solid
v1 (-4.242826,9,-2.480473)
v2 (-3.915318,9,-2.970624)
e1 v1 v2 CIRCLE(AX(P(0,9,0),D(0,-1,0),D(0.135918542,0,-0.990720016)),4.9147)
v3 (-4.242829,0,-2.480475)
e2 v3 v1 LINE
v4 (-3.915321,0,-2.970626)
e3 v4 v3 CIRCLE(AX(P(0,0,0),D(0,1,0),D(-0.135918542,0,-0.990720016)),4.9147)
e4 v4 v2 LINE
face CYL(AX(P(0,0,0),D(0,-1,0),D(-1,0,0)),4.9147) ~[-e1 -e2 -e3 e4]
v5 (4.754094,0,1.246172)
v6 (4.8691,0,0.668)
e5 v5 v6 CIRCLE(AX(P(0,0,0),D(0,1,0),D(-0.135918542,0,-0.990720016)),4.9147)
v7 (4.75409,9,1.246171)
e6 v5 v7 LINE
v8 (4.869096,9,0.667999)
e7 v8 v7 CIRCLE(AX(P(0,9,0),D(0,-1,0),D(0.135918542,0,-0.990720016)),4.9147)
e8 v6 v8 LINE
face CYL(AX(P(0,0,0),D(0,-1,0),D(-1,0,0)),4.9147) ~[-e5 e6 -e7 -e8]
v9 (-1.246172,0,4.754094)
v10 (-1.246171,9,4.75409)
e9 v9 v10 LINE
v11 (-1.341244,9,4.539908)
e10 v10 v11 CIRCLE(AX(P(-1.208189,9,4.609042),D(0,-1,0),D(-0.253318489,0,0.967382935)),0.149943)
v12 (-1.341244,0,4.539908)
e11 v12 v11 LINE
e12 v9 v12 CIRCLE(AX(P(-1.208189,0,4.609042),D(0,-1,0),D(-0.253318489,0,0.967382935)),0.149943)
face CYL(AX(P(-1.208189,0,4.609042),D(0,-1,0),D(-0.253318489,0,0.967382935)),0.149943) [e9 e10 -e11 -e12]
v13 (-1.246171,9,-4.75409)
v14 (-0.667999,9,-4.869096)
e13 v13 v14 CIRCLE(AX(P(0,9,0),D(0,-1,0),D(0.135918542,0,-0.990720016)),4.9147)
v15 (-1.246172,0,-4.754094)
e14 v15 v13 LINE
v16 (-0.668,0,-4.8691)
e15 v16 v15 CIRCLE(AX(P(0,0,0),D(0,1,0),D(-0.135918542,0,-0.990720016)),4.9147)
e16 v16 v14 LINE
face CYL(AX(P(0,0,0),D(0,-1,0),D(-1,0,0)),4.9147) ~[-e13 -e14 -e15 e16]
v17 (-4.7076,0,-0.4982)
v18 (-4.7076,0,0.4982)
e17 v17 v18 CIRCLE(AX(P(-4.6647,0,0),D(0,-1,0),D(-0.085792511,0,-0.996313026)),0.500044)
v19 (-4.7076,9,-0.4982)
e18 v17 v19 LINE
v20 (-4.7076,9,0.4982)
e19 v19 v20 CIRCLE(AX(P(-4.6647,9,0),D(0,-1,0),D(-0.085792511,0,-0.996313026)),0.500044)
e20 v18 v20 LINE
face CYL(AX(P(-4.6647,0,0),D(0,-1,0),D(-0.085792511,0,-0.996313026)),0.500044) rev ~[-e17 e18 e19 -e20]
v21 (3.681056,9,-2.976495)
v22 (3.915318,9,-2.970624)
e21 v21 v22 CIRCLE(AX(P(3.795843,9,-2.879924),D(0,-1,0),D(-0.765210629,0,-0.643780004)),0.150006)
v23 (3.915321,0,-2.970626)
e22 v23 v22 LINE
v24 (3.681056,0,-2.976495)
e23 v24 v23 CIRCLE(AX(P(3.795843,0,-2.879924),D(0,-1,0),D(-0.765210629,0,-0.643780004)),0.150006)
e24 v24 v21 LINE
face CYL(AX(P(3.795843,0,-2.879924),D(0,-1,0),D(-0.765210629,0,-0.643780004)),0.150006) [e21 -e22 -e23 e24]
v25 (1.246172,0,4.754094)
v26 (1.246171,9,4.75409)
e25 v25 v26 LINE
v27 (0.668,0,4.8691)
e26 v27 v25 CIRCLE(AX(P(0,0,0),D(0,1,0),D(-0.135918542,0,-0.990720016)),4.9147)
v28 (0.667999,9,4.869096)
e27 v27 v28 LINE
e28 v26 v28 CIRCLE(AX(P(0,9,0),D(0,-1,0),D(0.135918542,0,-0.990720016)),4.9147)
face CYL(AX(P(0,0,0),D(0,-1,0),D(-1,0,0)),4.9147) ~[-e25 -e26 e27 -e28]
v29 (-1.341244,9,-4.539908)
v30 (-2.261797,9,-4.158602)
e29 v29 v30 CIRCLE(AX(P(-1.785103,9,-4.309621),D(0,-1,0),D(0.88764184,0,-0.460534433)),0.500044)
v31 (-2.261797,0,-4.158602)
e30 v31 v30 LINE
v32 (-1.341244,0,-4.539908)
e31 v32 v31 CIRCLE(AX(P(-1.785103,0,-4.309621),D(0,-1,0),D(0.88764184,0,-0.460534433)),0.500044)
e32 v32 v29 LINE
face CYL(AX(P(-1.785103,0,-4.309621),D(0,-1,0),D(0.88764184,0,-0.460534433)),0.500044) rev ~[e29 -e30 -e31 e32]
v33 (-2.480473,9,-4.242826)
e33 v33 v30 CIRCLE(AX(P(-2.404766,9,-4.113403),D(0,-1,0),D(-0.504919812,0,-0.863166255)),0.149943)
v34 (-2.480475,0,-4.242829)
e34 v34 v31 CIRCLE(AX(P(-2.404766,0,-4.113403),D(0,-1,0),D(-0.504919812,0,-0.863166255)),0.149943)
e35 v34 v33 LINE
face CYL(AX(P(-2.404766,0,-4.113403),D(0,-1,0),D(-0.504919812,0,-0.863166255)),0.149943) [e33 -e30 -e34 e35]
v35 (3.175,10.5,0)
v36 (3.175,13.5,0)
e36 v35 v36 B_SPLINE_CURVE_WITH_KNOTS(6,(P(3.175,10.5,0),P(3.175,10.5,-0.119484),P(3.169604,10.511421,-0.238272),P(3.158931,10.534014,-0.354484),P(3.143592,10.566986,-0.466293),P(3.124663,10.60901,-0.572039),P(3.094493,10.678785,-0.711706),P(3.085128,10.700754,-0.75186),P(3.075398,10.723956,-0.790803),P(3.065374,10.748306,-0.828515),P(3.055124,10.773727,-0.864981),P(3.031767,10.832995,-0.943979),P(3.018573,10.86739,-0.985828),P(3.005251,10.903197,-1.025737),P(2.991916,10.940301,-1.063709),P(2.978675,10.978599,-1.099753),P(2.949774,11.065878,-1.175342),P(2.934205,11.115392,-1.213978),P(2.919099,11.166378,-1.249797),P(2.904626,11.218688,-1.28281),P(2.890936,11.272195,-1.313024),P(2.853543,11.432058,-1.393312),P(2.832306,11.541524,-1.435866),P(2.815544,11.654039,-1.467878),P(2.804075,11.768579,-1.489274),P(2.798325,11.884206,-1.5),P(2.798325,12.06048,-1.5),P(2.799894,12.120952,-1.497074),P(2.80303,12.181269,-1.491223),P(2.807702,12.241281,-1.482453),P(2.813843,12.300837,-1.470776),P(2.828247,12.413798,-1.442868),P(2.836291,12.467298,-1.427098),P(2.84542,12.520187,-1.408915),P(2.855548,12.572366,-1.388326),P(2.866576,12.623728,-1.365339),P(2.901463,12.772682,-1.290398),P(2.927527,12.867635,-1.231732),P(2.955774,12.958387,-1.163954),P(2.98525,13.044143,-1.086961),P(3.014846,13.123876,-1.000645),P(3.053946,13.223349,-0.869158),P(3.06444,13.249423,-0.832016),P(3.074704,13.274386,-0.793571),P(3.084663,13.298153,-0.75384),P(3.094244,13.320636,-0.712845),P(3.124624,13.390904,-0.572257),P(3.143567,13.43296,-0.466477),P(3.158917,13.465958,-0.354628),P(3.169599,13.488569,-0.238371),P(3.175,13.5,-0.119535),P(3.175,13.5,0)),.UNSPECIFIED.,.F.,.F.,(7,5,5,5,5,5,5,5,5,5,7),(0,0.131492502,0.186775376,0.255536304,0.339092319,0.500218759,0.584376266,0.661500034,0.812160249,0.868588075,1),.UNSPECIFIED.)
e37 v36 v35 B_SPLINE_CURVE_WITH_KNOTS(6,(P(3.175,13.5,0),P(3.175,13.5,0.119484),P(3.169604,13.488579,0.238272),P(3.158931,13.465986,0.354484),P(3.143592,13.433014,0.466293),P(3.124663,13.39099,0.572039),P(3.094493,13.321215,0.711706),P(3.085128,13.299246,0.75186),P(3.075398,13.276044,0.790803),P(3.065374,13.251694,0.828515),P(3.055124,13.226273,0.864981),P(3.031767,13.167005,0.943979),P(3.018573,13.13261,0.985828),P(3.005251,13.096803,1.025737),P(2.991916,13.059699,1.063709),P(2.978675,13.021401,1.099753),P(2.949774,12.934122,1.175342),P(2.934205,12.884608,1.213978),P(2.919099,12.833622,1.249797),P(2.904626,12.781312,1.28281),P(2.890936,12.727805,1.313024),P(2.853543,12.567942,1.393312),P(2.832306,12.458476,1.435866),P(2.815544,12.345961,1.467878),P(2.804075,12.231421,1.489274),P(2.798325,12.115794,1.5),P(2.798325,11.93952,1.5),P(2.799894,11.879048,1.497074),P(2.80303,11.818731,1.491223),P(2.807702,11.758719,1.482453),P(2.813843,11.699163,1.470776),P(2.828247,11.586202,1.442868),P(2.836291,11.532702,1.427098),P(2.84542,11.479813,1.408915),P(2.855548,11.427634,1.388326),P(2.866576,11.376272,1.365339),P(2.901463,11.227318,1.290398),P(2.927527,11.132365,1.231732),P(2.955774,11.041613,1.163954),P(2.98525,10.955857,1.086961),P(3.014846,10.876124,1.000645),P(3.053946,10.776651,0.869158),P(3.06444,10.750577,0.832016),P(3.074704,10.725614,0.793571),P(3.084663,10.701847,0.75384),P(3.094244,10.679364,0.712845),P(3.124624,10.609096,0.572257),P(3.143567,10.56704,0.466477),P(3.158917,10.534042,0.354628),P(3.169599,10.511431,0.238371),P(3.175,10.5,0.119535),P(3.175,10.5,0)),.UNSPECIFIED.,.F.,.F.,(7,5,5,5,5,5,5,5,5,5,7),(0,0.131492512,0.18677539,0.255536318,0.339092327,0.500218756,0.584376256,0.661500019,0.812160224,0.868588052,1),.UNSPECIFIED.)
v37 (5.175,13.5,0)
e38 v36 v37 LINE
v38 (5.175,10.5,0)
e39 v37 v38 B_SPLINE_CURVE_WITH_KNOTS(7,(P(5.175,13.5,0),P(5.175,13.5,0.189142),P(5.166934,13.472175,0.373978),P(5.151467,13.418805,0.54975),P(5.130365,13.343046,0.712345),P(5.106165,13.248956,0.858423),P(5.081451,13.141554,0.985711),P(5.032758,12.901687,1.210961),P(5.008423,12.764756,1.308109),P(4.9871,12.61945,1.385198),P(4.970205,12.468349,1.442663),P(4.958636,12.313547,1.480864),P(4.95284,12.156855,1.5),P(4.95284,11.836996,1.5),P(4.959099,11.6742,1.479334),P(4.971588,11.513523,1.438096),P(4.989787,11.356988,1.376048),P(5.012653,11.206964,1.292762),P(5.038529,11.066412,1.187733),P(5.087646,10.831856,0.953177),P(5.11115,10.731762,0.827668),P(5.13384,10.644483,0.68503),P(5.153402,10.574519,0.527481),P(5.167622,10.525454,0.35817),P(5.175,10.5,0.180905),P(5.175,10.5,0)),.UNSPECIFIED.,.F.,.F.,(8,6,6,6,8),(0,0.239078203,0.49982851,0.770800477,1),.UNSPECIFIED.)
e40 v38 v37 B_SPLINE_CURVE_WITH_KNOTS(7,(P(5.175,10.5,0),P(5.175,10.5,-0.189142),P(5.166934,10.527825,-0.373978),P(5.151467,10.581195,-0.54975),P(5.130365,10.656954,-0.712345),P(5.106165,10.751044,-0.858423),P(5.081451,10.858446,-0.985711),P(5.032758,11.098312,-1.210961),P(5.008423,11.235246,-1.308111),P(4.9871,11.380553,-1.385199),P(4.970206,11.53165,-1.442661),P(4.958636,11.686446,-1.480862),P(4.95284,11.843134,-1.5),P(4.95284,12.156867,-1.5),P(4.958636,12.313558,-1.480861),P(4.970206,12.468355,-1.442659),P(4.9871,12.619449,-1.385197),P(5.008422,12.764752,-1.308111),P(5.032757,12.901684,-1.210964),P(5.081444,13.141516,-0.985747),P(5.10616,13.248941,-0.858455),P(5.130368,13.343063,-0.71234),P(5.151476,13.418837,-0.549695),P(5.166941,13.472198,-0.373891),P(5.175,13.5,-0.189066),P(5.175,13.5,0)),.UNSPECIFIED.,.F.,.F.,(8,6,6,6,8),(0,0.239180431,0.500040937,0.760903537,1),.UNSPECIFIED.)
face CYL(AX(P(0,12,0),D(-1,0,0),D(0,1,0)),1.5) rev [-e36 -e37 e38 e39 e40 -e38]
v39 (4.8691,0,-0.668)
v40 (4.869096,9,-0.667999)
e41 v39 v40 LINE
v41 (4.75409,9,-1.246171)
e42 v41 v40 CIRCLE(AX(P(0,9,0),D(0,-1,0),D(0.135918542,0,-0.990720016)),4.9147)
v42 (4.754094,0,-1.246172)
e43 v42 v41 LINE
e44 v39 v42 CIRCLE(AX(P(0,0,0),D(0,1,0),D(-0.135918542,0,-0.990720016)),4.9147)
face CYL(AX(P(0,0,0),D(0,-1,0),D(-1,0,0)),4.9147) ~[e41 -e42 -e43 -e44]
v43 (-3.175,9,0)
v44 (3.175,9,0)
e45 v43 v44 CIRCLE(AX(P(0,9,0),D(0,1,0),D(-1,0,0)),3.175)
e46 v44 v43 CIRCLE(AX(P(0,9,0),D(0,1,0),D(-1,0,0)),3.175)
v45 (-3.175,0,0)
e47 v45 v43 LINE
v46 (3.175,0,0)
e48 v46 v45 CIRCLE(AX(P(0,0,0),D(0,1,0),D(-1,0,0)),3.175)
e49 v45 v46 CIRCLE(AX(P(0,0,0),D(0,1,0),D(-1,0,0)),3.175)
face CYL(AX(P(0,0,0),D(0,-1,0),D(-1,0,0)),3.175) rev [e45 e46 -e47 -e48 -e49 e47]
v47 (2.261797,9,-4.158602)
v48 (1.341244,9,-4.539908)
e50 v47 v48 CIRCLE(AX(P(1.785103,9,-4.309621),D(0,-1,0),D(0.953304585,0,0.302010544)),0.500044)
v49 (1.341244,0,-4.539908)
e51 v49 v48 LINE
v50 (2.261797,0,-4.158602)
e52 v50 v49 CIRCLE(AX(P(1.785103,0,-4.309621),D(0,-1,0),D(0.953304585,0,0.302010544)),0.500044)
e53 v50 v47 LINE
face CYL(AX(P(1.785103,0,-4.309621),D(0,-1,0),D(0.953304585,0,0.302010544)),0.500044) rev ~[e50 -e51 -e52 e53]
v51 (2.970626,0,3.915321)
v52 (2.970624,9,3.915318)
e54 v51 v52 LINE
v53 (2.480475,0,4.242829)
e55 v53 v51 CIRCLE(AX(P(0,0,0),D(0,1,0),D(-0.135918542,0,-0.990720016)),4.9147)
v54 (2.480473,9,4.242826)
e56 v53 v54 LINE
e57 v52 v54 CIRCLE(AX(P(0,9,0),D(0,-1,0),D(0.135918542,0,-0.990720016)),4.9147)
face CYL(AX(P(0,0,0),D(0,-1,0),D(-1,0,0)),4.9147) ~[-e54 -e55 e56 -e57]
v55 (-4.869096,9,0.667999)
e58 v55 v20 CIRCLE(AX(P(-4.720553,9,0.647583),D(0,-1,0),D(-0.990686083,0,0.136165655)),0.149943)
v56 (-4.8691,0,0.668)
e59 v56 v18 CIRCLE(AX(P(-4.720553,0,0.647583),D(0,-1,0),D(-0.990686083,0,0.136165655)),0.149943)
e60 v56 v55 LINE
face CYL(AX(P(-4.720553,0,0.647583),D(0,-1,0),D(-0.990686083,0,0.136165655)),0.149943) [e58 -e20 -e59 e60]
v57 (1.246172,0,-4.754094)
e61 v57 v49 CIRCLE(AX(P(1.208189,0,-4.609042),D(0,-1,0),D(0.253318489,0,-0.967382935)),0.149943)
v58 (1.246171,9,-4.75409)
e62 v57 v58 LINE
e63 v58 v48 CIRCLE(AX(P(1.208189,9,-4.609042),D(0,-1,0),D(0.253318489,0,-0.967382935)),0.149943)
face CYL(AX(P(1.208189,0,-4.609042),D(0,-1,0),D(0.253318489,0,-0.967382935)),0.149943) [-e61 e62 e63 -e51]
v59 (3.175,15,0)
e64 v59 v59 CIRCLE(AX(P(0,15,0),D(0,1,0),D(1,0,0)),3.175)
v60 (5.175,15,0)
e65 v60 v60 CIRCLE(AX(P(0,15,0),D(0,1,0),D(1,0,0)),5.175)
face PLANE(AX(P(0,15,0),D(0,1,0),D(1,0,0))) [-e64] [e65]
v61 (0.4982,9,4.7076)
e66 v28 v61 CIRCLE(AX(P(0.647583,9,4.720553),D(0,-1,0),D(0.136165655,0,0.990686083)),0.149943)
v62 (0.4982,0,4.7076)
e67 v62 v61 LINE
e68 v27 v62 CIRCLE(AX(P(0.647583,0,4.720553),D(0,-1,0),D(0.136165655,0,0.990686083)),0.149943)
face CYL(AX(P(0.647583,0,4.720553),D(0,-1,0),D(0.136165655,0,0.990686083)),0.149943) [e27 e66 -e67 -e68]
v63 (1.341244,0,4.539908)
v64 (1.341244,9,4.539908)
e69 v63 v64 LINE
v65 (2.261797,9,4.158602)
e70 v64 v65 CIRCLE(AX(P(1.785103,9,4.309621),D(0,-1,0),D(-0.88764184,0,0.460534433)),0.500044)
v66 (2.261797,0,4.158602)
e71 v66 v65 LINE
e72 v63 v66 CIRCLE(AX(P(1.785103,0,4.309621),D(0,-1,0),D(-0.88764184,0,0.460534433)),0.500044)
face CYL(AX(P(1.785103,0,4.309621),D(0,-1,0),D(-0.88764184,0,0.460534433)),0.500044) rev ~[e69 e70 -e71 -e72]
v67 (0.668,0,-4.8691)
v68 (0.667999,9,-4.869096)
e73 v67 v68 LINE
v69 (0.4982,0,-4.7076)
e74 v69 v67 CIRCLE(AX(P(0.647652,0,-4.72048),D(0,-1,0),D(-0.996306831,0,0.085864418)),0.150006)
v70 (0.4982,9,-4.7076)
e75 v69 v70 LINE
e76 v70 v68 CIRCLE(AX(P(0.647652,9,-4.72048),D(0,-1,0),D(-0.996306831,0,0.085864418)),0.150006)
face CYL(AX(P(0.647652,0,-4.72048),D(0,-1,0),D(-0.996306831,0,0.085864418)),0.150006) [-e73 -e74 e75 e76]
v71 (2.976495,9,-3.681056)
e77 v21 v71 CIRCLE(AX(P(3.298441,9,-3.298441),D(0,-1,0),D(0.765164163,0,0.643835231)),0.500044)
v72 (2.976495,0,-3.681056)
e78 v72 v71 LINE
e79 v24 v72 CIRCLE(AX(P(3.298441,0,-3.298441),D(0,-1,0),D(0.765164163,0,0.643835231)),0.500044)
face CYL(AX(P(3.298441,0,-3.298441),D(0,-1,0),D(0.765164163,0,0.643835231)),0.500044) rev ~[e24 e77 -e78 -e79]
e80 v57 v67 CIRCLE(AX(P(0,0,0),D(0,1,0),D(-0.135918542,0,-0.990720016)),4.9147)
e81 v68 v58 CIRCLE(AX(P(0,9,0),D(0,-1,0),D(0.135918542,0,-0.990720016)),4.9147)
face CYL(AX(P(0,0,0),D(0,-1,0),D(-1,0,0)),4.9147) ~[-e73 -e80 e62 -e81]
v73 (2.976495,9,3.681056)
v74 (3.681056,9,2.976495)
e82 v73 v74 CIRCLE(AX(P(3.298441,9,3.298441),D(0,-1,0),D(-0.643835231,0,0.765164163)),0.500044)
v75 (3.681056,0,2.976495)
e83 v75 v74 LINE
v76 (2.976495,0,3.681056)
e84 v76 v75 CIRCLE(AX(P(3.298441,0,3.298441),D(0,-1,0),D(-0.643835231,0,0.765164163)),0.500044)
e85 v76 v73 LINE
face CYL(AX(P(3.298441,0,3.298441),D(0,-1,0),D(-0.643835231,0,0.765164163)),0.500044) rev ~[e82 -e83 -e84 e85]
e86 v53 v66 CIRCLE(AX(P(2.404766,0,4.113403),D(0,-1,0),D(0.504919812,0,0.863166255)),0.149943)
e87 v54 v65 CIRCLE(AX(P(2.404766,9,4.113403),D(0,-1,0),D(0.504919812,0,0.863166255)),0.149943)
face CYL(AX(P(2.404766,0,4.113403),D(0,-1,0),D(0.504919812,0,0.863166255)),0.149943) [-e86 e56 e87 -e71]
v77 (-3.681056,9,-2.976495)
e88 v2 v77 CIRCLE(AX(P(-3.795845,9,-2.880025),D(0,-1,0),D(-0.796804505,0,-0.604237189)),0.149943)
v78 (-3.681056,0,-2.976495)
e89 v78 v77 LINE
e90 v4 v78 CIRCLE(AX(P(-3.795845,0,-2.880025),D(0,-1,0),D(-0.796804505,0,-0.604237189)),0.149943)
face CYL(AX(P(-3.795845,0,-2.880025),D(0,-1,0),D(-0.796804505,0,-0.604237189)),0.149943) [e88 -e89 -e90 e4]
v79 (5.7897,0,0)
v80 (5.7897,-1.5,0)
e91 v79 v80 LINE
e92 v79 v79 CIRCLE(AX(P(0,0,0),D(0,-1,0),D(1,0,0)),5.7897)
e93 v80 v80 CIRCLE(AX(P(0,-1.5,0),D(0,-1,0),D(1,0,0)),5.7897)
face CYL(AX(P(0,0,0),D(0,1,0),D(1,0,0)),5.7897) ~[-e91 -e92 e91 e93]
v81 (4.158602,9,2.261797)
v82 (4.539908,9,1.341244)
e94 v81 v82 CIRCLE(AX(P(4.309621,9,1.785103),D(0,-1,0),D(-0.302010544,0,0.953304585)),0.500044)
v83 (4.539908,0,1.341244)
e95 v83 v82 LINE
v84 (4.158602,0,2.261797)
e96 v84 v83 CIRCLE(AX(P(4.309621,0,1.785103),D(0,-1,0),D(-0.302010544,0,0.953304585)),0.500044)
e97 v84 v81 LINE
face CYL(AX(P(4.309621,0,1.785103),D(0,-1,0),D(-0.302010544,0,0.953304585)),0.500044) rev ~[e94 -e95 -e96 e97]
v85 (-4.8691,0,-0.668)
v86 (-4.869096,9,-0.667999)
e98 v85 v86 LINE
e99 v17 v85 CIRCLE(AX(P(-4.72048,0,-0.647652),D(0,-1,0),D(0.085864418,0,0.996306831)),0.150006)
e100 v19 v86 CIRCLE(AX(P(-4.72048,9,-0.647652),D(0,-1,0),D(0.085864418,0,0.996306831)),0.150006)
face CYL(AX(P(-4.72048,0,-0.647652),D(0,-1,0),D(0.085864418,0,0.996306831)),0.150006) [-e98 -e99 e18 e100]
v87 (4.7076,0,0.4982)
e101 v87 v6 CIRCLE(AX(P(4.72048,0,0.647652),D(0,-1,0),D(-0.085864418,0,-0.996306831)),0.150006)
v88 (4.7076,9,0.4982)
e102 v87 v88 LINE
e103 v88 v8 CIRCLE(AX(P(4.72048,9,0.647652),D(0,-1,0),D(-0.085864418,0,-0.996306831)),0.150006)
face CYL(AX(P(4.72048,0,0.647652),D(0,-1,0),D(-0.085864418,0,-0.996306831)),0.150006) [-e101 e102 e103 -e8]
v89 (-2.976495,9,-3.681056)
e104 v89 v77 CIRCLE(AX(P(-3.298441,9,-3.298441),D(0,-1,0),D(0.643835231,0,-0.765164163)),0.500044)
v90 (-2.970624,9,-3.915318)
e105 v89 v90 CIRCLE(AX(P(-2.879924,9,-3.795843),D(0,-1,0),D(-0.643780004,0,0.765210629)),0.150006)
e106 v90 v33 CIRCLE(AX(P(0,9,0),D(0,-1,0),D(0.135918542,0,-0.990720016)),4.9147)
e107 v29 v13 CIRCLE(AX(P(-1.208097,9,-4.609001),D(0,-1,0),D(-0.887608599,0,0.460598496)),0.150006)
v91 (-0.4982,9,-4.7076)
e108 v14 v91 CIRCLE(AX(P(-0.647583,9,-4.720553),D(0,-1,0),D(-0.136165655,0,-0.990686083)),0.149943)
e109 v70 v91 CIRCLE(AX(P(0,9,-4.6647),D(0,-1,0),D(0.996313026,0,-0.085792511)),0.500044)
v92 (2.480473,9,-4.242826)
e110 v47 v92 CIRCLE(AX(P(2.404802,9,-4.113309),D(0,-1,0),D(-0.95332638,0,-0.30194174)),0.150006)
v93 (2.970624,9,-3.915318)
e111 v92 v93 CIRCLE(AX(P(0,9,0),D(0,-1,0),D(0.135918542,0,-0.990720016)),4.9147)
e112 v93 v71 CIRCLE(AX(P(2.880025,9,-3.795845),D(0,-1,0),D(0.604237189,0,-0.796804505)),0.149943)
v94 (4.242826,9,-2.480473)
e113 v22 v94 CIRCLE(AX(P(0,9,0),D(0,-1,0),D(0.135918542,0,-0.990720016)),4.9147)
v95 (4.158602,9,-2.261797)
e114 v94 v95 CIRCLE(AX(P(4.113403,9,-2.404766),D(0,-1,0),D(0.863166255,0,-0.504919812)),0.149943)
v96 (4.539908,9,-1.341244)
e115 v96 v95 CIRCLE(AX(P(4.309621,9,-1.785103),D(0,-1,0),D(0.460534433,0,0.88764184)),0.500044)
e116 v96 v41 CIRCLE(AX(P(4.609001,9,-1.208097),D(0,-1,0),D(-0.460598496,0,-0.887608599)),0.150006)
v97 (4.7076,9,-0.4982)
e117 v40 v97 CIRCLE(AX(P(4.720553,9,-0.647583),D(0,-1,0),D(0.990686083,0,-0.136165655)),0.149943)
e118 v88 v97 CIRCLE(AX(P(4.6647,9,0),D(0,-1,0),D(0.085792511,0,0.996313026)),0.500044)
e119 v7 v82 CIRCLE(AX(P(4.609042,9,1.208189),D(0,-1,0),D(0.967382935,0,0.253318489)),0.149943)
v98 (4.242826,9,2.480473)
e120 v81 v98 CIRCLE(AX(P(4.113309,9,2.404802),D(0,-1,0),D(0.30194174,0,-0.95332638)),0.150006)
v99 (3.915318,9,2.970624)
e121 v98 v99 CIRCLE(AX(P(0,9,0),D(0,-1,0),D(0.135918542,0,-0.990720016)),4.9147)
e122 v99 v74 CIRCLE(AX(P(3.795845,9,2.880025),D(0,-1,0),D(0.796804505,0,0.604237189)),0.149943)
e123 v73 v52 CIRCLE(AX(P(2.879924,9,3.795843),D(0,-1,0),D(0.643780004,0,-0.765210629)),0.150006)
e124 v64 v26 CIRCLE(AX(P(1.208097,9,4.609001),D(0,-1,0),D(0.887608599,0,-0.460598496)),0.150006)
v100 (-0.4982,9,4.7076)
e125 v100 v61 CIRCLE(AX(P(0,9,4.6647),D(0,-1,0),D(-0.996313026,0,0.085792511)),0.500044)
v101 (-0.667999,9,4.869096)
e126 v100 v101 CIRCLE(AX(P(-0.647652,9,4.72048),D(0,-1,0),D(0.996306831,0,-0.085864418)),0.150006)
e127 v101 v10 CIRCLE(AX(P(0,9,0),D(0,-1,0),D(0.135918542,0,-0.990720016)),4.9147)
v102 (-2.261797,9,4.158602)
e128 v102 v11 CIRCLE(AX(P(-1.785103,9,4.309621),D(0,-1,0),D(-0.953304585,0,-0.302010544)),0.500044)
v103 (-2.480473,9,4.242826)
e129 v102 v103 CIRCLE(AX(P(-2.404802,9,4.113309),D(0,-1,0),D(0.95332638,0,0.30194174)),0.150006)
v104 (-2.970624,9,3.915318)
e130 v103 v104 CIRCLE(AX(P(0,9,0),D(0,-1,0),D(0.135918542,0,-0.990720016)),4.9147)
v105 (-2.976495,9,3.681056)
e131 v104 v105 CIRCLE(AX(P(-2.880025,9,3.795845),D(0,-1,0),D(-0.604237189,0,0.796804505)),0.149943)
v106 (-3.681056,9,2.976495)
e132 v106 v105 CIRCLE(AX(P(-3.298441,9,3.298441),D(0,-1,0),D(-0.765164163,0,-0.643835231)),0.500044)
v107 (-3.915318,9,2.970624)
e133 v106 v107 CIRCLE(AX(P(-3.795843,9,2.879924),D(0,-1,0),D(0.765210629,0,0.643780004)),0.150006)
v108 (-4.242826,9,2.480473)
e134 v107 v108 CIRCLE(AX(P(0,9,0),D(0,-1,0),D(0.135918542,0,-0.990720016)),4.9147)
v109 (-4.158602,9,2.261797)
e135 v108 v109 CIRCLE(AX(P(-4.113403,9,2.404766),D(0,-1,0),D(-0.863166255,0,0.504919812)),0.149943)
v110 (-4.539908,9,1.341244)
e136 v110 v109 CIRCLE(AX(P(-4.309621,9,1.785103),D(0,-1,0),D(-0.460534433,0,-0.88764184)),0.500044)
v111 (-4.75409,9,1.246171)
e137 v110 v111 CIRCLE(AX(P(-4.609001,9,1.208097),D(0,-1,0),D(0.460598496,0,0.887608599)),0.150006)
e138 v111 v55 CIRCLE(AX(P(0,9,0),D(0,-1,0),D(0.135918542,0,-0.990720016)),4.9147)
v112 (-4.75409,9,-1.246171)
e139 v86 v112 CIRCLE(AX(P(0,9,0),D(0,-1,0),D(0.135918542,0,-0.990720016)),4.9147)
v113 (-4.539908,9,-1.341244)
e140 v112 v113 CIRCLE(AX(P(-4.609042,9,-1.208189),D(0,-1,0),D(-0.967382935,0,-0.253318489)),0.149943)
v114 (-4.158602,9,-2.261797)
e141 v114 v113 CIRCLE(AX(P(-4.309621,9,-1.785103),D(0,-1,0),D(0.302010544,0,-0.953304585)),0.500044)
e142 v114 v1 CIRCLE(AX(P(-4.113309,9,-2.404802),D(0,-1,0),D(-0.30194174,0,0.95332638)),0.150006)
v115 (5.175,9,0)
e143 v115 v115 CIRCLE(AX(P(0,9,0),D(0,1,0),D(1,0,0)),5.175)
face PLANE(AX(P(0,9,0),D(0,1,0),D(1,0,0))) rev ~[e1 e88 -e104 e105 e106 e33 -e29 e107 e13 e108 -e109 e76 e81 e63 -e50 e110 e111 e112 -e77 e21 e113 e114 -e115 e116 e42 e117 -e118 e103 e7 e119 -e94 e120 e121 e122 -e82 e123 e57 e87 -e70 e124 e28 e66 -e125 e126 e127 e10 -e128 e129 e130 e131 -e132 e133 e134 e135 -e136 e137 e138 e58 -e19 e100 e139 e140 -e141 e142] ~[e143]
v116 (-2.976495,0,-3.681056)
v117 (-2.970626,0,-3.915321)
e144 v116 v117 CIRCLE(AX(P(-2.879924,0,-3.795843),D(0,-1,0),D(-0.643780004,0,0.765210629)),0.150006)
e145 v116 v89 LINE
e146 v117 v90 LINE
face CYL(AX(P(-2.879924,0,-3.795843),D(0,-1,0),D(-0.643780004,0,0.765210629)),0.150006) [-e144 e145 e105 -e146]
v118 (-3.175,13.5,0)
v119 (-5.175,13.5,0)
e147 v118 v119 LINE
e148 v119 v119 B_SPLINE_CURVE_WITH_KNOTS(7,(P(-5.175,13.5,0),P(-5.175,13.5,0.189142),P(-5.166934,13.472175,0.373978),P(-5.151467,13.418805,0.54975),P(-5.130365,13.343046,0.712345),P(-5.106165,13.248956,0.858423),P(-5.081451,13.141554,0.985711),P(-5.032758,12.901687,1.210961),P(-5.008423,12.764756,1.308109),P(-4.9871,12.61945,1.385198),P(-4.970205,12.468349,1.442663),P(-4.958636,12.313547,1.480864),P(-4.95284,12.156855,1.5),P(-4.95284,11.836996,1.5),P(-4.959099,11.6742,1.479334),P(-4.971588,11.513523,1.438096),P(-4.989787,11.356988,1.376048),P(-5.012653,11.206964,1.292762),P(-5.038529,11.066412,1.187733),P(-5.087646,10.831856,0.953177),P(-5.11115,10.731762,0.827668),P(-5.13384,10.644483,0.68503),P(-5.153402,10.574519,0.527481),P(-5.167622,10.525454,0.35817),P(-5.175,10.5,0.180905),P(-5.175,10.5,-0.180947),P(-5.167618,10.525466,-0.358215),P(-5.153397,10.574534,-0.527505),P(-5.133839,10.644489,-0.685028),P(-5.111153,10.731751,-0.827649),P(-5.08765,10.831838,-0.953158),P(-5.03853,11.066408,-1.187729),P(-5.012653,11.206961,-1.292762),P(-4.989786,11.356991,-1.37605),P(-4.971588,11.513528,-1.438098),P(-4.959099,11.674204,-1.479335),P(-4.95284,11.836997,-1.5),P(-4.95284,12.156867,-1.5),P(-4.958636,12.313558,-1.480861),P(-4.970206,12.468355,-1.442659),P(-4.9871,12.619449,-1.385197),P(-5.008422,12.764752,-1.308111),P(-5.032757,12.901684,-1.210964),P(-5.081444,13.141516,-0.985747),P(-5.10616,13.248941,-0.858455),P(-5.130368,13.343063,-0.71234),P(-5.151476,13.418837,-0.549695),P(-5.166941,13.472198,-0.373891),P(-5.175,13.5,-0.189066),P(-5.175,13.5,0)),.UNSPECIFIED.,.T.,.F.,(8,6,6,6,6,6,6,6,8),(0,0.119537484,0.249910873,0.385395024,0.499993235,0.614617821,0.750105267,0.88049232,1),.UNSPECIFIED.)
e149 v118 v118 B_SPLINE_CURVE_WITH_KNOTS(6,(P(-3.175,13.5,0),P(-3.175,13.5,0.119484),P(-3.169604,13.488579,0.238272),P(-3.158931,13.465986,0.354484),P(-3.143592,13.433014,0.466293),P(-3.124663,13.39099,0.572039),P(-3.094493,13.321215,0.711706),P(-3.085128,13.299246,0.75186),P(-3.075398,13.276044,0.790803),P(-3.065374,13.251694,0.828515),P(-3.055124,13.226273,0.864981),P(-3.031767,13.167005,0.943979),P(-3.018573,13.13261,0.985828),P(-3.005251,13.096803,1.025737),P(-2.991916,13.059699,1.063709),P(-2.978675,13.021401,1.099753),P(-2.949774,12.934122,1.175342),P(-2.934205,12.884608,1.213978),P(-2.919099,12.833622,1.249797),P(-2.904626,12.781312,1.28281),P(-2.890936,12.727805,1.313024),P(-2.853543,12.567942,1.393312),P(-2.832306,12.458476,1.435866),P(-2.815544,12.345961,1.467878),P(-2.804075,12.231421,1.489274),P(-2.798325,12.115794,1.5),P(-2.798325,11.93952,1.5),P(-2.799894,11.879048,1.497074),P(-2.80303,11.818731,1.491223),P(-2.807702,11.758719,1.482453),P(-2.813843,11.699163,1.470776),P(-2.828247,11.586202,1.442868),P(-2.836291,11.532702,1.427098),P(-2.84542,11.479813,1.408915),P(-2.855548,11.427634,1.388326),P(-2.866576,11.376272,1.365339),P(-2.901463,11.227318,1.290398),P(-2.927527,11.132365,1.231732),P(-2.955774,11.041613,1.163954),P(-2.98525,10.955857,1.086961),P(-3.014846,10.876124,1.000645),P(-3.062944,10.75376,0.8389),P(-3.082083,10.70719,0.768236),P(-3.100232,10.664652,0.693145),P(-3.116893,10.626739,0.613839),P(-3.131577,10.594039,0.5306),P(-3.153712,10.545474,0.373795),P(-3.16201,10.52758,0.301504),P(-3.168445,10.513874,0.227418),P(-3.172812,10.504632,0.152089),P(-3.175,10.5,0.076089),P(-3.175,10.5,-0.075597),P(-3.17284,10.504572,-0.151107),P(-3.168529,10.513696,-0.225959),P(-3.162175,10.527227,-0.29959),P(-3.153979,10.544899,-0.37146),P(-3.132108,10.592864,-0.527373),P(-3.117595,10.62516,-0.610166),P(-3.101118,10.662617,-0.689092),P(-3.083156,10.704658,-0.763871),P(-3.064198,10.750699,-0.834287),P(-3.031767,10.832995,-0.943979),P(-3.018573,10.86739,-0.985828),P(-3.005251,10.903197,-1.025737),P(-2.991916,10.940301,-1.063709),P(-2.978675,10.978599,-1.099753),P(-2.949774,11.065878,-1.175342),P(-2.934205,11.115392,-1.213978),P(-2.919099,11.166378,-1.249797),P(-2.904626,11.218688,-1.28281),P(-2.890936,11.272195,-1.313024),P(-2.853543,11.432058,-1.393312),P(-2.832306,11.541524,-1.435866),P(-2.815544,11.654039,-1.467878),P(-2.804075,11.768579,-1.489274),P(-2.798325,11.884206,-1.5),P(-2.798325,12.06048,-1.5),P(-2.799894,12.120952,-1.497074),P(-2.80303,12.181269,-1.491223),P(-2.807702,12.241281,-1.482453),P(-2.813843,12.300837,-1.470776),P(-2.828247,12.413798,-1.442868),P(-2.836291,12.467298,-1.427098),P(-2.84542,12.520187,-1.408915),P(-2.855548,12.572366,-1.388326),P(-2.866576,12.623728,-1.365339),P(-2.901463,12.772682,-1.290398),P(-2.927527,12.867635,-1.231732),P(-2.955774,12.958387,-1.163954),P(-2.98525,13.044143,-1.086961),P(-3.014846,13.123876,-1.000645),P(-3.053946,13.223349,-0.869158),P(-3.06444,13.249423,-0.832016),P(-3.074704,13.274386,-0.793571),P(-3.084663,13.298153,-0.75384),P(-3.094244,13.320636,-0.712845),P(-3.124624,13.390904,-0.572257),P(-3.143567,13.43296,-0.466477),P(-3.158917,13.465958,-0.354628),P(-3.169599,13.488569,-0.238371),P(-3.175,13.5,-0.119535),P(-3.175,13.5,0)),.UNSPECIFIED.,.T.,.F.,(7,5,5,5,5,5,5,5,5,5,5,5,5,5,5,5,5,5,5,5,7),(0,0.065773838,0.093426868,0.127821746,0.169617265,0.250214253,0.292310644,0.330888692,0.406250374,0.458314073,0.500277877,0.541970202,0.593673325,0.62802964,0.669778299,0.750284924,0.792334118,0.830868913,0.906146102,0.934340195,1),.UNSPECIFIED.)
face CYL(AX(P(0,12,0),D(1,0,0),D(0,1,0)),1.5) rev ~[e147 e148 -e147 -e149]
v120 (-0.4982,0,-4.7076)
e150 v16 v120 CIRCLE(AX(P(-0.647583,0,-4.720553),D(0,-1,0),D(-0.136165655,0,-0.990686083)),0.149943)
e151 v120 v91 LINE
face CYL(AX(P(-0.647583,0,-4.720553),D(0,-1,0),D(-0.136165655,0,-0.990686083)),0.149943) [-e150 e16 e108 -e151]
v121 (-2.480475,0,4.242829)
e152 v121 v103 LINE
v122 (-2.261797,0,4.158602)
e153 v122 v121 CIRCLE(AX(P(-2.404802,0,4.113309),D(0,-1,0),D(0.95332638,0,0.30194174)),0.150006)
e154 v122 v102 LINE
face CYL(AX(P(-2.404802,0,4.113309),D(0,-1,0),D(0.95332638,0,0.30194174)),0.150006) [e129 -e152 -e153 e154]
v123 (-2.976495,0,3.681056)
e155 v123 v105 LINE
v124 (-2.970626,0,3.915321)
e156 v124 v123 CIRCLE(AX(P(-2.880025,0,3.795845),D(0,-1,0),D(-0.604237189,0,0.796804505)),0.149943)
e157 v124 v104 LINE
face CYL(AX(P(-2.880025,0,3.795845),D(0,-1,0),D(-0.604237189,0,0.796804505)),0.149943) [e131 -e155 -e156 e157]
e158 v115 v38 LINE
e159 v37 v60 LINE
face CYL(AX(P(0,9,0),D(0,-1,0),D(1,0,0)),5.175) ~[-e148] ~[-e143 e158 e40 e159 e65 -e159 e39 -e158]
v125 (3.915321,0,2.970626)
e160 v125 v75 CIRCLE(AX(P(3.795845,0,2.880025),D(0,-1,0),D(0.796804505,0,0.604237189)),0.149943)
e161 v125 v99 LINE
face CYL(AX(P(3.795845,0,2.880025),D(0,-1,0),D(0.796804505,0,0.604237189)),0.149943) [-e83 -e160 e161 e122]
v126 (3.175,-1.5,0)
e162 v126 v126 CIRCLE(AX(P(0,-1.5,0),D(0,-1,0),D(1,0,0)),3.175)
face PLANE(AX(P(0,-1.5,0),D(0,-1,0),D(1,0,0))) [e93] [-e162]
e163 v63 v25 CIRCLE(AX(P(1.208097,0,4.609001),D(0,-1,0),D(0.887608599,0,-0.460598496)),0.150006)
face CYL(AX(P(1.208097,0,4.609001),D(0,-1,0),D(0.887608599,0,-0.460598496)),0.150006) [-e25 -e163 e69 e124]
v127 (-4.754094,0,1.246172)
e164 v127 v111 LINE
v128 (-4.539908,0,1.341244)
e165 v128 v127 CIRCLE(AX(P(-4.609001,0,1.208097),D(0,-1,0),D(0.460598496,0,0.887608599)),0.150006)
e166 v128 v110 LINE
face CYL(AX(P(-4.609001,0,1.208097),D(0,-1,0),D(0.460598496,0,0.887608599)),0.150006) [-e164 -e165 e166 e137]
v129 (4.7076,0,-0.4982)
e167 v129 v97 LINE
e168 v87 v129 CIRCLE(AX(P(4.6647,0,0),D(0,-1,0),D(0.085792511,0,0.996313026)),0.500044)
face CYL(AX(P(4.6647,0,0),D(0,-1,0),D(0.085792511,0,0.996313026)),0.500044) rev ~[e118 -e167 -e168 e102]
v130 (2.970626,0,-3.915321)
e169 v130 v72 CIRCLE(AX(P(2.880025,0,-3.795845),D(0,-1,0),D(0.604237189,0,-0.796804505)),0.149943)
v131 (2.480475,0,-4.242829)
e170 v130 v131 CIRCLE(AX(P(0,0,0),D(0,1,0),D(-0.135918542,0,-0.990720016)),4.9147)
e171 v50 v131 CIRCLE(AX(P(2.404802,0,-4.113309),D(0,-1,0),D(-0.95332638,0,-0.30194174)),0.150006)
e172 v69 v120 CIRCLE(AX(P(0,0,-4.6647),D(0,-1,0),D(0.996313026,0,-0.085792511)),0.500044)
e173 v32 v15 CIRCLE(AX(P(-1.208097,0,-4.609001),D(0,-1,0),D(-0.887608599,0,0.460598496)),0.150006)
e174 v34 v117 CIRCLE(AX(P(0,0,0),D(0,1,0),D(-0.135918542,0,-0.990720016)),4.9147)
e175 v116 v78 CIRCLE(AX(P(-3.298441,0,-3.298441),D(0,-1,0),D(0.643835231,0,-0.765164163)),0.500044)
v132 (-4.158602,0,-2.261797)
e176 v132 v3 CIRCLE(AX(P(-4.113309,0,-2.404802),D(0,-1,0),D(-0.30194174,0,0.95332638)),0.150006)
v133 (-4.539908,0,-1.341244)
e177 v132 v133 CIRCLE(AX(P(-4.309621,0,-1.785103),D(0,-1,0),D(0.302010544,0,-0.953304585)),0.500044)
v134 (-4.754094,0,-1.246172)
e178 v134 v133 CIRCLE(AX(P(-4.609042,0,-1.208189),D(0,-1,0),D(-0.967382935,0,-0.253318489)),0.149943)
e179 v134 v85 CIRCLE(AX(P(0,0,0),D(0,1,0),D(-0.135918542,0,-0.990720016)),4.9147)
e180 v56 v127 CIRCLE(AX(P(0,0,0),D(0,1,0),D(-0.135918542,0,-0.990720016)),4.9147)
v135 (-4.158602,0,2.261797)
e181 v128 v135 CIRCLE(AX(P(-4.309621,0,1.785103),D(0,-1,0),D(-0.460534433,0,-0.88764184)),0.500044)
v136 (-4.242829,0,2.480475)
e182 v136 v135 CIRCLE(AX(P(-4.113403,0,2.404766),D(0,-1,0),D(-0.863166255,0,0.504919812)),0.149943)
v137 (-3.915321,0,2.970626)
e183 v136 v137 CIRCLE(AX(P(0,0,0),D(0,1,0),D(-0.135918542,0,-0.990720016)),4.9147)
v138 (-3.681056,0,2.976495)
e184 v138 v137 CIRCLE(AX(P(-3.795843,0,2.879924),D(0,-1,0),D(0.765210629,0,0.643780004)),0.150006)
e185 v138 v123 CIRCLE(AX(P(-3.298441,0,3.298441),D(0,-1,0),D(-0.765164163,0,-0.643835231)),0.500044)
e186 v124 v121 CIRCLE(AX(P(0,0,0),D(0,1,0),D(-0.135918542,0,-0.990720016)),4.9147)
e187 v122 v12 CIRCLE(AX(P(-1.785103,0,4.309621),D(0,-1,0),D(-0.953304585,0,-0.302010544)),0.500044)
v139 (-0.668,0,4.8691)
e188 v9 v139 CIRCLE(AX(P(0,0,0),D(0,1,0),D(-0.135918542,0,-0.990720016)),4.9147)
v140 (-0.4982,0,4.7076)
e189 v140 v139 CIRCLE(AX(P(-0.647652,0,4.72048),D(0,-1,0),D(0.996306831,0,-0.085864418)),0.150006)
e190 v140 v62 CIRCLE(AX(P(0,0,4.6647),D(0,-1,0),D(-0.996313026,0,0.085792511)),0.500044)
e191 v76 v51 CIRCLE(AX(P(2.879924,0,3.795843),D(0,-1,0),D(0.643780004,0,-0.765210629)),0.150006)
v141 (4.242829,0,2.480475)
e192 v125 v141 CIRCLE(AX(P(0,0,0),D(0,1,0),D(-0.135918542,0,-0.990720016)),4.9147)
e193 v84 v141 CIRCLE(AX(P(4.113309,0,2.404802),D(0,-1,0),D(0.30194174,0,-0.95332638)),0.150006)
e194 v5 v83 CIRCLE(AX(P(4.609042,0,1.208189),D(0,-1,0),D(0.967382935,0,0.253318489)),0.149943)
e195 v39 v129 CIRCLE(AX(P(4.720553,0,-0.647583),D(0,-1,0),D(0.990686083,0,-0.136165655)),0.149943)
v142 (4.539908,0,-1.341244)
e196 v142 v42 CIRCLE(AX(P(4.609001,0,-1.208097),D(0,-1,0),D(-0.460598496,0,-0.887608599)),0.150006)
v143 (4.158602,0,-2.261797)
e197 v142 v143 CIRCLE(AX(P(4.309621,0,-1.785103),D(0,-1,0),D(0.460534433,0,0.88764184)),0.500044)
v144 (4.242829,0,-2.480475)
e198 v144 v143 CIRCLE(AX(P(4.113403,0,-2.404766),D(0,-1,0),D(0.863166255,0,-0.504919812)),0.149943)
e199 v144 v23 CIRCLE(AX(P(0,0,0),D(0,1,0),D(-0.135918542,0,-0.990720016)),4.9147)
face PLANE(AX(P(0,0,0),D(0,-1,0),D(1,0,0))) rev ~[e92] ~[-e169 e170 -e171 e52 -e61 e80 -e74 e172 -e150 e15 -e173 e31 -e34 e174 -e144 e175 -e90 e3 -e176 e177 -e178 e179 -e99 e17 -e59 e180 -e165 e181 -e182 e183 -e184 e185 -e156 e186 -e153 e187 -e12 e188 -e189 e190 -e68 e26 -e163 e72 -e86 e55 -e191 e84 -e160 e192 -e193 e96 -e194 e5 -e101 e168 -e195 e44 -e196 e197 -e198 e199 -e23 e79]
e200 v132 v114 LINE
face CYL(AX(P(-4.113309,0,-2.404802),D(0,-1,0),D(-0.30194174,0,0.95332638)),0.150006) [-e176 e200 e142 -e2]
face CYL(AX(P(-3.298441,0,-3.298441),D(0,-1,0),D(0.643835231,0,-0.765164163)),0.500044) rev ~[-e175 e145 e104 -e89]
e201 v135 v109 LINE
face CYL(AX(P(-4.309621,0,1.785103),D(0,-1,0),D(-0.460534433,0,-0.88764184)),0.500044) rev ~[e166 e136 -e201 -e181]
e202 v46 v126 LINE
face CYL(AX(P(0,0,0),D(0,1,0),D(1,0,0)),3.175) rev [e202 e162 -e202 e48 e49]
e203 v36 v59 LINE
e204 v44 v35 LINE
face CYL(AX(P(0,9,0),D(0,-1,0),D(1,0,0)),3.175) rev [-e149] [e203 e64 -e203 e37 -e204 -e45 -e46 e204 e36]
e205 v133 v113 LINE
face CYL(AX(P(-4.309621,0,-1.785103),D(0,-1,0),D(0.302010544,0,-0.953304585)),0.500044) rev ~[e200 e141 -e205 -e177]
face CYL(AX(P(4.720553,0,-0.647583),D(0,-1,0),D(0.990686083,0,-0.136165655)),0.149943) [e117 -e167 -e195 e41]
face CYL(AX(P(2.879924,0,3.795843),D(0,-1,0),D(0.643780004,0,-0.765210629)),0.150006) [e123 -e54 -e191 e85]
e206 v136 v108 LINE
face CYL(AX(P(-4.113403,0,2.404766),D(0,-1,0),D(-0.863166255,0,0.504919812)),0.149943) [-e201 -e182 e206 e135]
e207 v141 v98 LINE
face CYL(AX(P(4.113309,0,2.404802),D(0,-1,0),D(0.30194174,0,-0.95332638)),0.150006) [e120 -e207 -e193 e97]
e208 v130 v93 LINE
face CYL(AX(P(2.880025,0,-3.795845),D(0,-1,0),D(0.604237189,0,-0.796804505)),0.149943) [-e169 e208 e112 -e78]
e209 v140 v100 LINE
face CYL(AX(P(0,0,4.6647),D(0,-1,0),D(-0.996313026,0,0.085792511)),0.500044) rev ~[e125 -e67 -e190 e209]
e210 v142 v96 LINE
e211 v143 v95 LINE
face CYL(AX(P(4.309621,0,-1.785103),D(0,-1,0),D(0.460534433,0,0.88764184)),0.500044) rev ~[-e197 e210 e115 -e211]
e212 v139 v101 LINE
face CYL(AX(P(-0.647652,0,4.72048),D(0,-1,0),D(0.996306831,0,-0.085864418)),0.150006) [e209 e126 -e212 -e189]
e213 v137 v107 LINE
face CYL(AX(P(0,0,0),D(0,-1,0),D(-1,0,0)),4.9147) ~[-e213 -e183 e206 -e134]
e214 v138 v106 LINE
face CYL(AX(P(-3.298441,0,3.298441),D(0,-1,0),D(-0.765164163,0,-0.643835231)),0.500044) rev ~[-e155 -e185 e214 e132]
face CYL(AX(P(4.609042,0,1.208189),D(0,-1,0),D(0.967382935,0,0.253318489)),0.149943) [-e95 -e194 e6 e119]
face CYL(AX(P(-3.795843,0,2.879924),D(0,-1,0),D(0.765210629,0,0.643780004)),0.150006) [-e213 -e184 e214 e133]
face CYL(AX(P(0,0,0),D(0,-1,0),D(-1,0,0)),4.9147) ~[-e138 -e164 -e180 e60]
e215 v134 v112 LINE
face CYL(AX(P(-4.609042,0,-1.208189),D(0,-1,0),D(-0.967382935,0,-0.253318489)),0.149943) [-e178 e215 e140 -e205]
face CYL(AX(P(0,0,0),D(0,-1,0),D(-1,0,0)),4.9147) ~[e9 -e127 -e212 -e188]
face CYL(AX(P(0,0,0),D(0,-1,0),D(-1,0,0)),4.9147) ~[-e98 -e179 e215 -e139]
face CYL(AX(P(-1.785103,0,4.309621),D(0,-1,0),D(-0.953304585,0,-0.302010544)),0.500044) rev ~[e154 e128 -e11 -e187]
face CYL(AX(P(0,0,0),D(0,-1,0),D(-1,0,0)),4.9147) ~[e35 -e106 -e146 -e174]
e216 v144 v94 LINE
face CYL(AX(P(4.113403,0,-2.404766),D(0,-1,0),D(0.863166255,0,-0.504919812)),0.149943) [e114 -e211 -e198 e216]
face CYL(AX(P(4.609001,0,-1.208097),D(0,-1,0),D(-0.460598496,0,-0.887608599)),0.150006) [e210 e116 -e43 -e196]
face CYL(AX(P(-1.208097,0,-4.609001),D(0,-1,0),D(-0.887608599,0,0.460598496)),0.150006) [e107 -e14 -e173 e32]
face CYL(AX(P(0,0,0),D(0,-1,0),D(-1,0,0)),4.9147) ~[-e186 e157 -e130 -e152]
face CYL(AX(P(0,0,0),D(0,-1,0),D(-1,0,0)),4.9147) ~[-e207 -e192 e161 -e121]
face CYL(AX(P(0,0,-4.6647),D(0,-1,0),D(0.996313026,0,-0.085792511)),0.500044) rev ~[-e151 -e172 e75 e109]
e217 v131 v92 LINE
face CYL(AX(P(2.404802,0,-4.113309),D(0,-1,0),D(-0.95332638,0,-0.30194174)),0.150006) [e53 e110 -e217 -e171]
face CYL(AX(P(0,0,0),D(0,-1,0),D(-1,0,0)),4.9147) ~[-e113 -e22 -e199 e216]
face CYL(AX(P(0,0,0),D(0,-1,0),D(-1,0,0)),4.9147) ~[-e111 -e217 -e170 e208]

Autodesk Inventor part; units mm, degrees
ref_plane "YZ Plane" through (0, 0, 0) normal (1, 0, 0) x (0, 1, 0)
ref_plane "XZ Plane" through (0, 0, 0) normal (0, 1, 0) x (-1, 0, 0)
ref_plane "XY Plane" through (0, 0, 0) normal (0, 0, 1) x (1, 0, 0)
sketch "Sketch1" plane through (0, 0, 0) normal (0, 1, 0) x (-1, 0, 0)
  circle A0 centre (0, 0) radius 3.175
  circle A1 centre (0, 0) radius 4.9147
  dimension "BoreD" = 6.35
  dimension "OuterD" = 9.8294
extrude "Extrusion1" add sketch "Sketch1" along normal blind 9
sketch "Sketch2" plane through (0, 0, 0) normal (0, -1, 0) x (1, 0, 0)
  circle A0 centre (0, 0) radius 4.9147 projected
  arc A1 (0.4982, -4.7076) -> (0.668, -4.8691) centre (0.6476, -4.7205) ccw
  arc A2 (0.4982, -4.7076) -> (-0.4982, -4.7076) centre (0, -4.6647) ccw
  arc A3 (-0.668, -4.8691) -> (-0.4982, -4.7076) centre (-0.6476, -4.7205) ccw
  point P0 (0, -4.9147)
  dimension "d9" = 0.5
  dimension "d10" = 0.15
  dimension "Depth" = 0.25
extrude "Extrusion2" cut sketch "Sketch2" against normal up to next contours A3 A2 A1 A0 picked at (0, -4.6613)
pattern_circular "Circular Pattern1" count 16 over 360 about axis through (0, -10, 0) along (0, 1, 0) of "Extrusion2"
sketch "Sketch3" plane through (0, 0, 0) normal (0, -1, 0) x (1, 0, 0)
  circle A0 centre (0, 0) radius 5.7897
  circle A1 centre (0, 0) radius 3.175
  dimension "FaceD" = 11.5794
  dimension "d18" = 6.35
extrude "Extrusion3" add sketch "Sketch3" along normal blind 1.5
sketch "Sketch4" plane through (0, 9, 0) normal (0, 1, 0) x (1, 0, 0)
  circle A0 centre (0, 0) radius 3.175 projected
  circle A1 centre (0, 0) radius 5.175
  circle A2 centre (0, 0) radius 5.7897 projected
  dimension "d21" = 2
extrude "Extrusion4" [suppressed]
extrude "Extrusion5" add sketch "Sketch4" along normal blind 6 contours A1
sketch "Sketch5" plane through (0, 0, 0) normal (1, 0, 0) x (0, 1, 0)
  circle A0 centre (12, 0) radius 1.5
  line L0 (9, -5.175) -> (15, -5.175) projected
  point P0 (0, 0)
  point P1 (12, -5.175)
  dimension "d26" = 3
extrude "Extrusion6" cut sketch "Sketch5" along normal through all both and the other way through all
equation "\"OuterD\" = 0.614338 * Teeth"
equation "\"Depth\" = Pitch"
equation "\"d18\" = BoreD"
equation "\"BeltWidth\" = 8"
equation "\"Pitch\" = 0.25"
equation "\"Teeth\" = 16"
properties part number "GT2Shaft16T" material "ABS Plastic"
